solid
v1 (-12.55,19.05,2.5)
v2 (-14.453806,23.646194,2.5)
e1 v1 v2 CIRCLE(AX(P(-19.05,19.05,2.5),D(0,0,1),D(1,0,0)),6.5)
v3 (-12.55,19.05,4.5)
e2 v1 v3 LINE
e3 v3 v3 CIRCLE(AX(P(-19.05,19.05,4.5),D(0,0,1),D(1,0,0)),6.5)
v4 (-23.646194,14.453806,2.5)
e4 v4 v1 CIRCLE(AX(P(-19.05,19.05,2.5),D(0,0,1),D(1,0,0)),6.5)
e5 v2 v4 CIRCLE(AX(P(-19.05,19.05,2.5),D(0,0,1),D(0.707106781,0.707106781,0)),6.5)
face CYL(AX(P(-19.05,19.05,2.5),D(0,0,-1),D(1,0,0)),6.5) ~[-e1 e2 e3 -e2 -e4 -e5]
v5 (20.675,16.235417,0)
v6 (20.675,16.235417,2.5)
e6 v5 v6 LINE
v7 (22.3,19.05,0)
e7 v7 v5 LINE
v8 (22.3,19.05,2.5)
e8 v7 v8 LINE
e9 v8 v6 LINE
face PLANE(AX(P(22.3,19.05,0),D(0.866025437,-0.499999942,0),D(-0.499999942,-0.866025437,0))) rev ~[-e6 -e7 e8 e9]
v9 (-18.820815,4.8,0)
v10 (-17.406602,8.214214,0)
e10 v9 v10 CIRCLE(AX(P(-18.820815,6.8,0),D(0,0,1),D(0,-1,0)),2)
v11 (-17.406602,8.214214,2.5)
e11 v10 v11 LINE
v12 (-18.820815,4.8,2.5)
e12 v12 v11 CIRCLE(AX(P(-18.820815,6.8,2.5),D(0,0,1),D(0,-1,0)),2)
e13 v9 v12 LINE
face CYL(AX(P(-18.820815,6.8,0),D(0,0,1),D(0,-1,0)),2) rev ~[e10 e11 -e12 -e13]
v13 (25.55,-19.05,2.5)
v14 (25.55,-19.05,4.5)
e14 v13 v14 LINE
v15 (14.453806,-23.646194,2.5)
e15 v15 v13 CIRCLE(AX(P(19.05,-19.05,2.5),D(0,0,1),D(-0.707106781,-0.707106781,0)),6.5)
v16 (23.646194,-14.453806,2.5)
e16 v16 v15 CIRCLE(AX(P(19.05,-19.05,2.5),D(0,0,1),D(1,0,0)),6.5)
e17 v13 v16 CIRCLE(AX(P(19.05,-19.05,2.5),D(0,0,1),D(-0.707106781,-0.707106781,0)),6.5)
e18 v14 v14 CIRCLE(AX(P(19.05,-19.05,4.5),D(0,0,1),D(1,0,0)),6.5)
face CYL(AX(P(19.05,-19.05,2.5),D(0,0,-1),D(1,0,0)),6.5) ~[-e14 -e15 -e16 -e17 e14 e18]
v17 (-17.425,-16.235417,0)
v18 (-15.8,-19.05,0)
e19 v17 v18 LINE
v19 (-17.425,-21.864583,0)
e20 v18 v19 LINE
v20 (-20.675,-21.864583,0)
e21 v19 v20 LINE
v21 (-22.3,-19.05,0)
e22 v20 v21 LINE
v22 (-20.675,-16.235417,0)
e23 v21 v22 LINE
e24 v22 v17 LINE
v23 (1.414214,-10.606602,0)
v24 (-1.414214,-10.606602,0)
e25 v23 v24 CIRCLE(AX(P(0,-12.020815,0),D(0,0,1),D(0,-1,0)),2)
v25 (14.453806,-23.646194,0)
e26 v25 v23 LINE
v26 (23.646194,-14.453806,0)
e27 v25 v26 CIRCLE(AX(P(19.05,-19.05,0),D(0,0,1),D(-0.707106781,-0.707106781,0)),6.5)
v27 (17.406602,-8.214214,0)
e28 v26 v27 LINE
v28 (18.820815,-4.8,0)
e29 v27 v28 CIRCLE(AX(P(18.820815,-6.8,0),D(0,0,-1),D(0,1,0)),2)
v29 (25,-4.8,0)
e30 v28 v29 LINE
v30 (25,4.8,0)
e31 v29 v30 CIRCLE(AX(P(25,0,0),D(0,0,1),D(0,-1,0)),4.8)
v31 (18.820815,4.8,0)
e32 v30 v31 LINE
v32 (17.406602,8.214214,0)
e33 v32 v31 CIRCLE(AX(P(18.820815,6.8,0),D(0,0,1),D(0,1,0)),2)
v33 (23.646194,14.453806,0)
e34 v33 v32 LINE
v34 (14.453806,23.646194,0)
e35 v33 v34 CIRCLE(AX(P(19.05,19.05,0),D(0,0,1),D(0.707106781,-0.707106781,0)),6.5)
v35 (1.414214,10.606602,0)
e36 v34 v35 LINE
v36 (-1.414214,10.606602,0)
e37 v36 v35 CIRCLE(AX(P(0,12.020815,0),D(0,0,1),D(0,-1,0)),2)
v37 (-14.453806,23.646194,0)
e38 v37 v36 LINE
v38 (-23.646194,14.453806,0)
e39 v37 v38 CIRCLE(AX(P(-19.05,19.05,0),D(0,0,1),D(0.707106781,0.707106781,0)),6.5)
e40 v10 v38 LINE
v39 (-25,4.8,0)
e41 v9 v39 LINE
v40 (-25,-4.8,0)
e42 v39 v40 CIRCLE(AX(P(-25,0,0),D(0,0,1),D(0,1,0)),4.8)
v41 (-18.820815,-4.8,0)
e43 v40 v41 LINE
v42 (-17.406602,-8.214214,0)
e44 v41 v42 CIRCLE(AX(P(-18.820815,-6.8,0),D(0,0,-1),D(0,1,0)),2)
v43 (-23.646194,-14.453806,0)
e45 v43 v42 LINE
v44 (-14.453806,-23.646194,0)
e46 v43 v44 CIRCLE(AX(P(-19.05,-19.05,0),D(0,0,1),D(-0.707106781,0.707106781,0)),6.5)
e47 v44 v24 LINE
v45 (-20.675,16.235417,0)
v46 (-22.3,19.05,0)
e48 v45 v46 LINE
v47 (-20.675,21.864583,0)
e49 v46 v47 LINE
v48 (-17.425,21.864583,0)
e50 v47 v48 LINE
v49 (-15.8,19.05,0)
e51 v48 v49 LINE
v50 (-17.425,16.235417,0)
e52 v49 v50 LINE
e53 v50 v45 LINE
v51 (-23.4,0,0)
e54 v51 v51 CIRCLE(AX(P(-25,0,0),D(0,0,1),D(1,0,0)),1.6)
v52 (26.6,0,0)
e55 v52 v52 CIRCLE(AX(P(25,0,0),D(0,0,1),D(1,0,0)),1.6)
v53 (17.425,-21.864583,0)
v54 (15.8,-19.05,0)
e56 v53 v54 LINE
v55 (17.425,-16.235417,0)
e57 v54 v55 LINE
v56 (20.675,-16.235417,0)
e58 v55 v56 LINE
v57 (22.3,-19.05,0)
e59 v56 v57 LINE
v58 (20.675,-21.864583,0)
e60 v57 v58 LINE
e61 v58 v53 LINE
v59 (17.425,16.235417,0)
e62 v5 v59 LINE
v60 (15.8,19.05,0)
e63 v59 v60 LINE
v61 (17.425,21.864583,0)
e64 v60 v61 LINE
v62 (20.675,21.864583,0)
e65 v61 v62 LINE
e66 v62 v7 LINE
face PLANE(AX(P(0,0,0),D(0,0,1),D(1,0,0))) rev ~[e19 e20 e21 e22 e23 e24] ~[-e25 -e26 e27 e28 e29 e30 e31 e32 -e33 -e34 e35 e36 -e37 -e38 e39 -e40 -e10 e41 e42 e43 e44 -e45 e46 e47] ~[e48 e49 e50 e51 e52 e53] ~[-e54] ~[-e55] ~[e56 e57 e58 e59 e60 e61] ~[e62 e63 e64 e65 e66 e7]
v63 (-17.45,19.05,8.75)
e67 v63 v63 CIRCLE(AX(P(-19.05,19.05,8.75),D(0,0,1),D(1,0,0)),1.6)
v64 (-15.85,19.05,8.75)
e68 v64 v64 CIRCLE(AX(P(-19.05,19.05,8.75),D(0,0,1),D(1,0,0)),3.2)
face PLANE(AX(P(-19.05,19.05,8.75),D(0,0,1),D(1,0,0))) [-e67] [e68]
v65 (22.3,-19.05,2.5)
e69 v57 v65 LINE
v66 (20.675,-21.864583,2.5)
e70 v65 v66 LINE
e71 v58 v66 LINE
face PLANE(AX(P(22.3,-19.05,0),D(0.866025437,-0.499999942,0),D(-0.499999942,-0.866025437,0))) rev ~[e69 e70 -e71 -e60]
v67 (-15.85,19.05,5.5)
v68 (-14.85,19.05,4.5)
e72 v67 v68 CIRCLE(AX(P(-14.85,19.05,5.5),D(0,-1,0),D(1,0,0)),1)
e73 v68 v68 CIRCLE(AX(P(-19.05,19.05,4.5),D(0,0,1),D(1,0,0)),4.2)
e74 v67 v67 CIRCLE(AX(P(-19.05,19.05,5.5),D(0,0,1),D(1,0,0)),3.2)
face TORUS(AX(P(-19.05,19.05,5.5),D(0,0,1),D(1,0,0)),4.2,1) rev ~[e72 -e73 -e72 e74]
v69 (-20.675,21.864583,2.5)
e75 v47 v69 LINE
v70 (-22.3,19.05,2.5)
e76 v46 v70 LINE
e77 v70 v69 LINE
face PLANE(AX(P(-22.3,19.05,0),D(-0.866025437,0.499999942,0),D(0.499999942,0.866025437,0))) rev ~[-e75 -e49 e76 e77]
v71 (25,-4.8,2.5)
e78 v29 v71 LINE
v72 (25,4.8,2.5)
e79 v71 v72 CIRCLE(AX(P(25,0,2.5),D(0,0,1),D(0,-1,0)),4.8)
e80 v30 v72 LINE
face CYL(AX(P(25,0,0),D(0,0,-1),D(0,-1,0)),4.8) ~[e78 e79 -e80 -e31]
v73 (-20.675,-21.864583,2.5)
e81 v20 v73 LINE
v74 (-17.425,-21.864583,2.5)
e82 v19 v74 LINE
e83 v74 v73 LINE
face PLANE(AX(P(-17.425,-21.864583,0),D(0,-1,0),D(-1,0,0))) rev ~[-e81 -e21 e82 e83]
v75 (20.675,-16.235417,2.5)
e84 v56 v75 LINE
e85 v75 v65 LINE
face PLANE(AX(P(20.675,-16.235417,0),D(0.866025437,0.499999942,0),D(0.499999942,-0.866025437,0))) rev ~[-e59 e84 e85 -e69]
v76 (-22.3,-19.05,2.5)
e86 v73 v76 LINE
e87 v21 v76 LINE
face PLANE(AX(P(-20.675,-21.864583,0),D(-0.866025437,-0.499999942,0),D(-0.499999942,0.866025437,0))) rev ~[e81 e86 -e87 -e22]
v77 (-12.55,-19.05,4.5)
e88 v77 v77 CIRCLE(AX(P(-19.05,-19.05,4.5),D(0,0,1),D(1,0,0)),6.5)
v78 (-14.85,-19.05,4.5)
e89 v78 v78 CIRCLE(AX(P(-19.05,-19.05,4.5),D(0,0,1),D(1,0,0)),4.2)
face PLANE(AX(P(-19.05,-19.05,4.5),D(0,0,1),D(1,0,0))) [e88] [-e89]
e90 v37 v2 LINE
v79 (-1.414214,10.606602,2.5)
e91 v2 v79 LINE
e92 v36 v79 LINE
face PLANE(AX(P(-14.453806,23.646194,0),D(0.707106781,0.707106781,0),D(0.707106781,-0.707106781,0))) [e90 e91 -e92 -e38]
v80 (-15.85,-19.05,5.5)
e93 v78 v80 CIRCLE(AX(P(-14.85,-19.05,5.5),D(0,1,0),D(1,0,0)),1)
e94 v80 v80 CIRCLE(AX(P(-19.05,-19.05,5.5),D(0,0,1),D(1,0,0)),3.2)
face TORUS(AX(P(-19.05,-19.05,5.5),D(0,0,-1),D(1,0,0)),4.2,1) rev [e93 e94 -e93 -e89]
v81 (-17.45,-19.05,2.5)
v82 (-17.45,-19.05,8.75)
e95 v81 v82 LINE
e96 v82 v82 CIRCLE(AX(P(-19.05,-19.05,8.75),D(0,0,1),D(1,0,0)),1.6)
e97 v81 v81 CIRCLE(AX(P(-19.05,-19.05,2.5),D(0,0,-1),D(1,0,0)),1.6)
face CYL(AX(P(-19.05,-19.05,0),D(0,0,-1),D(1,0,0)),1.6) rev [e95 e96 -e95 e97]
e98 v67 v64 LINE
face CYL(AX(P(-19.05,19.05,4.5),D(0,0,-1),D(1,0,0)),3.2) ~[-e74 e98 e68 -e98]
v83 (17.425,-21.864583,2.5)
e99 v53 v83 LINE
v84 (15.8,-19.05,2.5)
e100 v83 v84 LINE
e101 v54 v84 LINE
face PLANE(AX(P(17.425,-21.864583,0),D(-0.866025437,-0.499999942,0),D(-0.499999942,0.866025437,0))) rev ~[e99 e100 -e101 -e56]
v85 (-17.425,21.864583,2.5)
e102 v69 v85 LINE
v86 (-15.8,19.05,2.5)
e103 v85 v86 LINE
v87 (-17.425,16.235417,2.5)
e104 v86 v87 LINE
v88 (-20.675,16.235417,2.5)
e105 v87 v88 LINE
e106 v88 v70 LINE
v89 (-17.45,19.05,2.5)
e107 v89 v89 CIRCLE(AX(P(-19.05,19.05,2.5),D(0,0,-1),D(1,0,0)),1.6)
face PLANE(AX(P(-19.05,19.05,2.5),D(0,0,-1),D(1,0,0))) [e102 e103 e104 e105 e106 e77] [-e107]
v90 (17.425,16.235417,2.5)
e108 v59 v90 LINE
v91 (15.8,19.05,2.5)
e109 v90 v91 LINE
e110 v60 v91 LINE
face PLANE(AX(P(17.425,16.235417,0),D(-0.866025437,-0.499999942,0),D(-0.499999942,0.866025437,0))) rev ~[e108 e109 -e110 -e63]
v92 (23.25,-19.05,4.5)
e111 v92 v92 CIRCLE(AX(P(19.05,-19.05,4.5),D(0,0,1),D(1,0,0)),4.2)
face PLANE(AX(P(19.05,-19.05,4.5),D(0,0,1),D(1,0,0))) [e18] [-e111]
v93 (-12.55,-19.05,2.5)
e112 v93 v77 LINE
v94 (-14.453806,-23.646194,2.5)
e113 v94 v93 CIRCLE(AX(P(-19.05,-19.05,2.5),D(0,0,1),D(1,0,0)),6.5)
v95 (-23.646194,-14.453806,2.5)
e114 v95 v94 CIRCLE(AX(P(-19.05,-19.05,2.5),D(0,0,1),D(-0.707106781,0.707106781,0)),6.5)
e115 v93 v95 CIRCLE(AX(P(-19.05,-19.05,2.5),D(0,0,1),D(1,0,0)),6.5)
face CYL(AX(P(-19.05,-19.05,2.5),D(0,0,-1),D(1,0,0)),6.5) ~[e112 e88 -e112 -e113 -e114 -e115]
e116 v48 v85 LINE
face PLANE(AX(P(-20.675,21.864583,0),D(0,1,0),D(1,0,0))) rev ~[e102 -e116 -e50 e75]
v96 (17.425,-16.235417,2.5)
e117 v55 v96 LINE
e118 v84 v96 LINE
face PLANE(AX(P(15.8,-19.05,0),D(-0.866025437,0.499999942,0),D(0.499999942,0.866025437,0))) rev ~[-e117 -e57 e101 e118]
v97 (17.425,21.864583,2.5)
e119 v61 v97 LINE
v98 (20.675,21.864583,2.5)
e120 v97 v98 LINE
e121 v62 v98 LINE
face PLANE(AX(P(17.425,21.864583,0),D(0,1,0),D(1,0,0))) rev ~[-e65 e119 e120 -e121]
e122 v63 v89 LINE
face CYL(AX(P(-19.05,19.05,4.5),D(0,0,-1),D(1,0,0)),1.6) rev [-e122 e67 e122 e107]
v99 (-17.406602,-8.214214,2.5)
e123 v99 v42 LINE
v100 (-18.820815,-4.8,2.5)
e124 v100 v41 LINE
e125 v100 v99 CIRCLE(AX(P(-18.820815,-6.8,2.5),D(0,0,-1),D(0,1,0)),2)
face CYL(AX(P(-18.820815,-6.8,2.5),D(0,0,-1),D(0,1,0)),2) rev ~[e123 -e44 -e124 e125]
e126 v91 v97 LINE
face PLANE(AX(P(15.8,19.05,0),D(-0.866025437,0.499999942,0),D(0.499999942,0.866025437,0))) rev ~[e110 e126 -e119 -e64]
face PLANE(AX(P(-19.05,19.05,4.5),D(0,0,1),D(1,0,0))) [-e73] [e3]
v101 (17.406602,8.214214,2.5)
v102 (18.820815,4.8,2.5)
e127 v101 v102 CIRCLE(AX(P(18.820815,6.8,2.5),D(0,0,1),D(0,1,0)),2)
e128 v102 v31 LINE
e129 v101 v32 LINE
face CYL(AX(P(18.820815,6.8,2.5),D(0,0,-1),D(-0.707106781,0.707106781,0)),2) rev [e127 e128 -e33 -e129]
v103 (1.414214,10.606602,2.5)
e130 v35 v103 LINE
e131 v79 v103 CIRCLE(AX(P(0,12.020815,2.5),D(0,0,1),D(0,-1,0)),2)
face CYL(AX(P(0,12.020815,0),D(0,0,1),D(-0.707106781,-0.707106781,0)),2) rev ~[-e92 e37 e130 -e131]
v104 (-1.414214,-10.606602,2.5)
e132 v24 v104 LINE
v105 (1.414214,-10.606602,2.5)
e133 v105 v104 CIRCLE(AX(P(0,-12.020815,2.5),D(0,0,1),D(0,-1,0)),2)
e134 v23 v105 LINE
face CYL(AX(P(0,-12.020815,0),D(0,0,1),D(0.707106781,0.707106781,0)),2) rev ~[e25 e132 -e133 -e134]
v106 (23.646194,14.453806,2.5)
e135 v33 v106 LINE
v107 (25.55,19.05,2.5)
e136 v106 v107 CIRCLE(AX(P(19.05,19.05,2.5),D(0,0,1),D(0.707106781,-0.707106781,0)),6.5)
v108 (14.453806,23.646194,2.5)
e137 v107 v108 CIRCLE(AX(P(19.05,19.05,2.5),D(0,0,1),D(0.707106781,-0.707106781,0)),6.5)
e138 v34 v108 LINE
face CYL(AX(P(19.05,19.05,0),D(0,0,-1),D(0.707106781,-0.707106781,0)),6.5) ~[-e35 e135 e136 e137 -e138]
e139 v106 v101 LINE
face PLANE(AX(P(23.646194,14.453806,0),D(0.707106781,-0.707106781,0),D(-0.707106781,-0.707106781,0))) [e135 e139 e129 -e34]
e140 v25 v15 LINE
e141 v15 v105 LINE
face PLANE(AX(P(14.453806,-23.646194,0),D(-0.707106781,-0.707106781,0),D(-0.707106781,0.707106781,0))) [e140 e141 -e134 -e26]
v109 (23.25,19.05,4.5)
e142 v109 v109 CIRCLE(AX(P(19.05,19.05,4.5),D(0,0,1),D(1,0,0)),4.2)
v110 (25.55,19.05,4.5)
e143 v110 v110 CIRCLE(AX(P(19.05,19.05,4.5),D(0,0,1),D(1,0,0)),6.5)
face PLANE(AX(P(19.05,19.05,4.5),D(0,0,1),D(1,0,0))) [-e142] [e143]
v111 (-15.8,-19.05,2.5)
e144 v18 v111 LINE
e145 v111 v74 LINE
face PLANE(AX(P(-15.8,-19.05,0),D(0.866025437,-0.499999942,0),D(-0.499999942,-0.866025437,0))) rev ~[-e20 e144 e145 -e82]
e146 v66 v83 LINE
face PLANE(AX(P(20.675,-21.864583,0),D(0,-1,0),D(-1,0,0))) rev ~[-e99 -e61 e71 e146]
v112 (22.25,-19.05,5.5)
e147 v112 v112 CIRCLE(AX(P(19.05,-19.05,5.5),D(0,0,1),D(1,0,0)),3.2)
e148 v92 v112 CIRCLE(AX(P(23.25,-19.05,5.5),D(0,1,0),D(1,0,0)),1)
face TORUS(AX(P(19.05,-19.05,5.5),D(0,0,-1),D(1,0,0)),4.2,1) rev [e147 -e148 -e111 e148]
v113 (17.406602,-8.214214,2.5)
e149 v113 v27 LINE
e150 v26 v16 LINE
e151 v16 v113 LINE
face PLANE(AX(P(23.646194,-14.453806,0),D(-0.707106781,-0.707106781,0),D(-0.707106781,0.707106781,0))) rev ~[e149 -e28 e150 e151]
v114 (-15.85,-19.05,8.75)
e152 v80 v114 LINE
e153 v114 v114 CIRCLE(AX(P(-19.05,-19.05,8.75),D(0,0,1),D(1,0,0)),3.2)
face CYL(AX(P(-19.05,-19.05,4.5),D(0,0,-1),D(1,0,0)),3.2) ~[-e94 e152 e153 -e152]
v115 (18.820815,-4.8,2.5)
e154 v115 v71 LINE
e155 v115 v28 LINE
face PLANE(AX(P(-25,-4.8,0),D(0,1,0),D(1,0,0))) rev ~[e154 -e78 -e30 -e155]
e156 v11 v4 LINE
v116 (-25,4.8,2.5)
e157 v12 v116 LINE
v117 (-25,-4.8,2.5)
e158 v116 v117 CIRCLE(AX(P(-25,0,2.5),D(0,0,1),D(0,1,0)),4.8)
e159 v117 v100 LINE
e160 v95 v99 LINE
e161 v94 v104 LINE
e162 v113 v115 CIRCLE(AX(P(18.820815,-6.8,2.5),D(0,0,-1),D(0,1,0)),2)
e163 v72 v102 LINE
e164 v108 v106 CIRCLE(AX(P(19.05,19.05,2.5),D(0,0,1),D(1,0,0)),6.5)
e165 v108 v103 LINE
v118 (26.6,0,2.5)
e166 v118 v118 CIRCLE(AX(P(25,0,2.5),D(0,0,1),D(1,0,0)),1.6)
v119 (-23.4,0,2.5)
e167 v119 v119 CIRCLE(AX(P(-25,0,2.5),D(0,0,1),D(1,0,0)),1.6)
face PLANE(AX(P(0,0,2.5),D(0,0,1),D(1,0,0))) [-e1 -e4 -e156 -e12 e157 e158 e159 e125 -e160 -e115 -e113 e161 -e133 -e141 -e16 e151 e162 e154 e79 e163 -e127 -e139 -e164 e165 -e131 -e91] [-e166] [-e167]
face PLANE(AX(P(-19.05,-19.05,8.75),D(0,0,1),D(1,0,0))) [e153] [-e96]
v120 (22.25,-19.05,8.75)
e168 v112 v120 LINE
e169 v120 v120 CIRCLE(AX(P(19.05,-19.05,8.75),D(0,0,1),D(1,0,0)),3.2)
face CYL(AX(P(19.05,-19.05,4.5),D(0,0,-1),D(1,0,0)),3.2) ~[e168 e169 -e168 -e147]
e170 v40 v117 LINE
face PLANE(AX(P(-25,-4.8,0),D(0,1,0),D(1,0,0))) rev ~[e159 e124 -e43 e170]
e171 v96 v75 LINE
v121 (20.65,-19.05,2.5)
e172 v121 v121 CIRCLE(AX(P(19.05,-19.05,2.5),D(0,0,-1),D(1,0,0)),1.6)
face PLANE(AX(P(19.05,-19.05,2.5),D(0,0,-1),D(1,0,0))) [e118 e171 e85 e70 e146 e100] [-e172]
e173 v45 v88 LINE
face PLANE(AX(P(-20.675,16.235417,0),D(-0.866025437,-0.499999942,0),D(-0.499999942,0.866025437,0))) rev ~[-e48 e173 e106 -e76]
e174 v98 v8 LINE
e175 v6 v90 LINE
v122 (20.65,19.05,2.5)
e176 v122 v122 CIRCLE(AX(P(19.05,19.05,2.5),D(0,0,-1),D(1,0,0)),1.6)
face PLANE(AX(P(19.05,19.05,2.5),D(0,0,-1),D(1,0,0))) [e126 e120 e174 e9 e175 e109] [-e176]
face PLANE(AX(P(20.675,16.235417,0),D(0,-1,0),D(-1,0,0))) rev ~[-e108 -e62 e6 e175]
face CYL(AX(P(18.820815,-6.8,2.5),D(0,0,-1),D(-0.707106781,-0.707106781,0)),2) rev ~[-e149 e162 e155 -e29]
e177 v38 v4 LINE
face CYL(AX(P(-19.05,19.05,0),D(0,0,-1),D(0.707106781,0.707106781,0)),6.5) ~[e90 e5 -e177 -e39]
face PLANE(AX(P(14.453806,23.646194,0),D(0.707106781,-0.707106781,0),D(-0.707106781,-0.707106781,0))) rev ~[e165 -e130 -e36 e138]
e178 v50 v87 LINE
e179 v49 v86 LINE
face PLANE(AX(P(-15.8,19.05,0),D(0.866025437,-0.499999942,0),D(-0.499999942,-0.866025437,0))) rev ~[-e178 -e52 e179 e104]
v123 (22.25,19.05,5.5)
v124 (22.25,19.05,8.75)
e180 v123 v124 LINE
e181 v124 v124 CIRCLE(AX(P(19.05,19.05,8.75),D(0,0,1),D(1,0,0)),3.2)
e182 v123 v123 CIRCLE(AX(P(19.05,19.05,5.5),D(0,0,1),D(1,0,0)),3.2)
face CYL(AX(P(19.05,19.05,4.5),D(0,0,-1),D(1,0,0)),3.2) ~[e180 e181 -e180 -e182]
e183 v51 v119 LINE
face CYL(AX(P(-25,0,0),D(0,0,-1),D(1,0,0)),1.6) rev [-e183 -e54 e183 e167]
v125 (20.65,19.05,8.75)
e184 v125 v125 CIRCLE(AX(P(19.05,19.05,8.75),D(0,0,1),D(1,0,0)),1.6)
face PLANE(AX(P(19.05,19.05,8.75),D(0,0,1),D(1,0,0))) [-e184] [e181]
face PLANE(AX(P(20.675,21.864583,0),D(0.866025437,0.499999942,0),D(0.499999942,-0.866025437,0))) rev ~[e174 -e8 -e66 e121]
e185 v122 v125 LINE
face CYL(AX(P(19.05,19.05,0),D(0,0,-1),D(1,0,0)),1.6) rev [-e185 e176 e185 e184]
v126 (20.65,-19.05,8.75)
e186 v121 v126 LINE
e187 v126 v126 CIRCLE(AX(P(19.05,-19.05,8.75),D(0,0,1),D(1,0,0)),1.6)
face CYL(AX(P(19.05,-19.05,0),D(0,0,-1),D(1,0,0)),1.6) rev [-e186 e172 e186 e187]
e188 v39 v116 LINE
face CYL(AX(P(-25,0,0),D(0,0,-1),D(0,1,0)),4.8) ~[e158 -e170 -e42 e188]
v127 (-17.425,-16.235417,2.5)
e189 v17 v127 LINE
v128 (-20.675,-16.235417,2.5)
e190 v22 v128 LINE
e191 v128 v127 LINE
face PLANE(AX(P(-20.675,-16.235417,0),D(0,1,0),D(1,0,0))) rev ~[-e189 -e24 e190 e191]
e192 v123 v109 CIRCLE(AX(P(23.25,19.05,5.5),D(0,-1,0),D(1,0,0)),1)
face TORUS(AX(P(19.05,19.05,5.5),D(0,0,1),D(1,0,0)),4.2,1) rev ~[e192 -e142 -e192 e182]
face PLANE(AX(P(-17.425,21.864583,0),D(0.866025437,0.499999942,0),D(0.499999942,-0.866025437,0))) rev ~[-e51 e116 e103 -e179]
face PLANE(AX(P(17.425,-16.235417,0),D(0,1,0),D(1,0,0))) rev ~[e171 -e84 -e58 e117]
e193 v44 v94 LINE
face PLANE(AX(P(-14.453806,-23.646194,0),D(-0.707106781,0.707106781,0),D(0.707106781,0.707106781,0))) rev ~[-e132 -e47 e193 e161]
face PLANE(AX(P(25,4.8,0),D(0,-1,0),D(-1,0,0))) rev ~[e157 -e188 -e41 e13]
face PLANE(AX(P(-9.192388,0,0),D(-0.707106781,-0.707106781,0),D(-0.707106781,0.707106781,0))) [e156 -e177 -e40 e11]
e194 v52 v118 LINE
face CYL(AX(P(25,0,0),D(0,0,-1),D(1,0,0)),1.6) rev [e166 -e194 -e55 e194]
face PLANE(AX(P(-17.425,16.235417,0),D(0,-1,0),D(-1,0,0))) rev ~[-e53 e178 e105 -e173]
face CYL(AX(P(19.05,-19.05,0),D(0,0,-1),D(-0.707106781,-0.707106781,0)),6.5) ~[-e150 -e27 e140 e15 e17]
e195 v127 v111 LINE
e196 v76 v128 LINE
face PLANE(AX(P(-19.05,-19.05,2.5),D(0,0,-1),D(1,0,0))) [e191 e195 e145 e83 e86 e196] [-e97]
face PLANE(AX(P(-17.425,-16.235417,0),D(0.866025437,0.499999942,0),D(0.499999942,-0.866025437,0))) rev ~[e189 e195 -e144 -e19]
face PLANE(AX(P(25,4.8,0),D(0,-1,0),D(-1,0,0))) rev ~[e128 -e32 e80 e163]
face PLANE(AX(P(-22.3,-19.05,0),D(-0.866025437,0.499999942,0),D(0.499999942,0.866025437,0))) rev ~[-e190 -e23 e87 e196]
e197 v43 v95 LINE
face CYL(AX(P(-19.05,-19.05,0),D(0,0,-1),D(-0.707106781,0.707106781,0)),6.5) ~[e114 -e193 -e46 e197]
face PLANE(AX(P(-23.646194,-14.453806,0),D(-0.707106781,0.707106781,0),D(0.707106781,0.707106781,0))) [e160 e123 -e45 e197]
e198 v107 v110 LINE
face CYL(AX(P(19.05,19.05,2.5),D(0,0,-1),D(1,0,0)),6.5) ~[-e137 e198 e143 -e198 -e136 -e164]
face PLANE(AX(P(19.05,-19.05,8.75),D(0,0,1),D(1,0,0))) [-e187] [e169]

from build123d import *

# Parameters (mm, degrees)
SKETCH009_R     = 1.6
PAD003_DEPTH    = 2.5
SKETCH010_R     = 1.6
PAD004_DEPTH    = 2.5
FILLET002_R     = 2
SKETCH011_R     = 6.5
SKETCH011_R_2   = 1.6
PAD005_DEPTH    = 2
SKETCH012_R     = 3.2
SKETCH012_R_2   = 1.6
PAD006_DEPTH    = 4.25
FILLET003_R     = 1
POCKET006_DEPTH = 2.5


with BuildPart() as part:
    # Sketch009 → Pad003 (new body)
    with BuildSketch(Plane.XY):
        with BuildLine():
            ThreePointArc((23.646194, 14.453806), (23.646194, 23.646194), (14.453806, 23.646194))
            Line((14.453806, 23.646194), (0, 9.192388))
            Line((-14.453806, 23.646194), (0, 9.192388))
            ThreePointArc((-14.453806, 23.646194), (-23.646194, 23.646194), (-23.646194, 14.453806))
            Line((-9.192388, 0), (-23.646194, 14.453806))
            Line((-23.646194, -14.453806), (-9.192388, 0))
            ThreePointArc((-23.646194, -14.453806), (-23.646194, -23.646194), (-14.453806, -23.646194))
            Line((-14.453806, -23.646194), (0, -9.192388))
            Line((14.453806, -23.646194), (0, -9.192388))
            ThreePointArc((14.453806, -23.646194), (23.646194, -23.646194), (23.646194, -14.453806))
            Line((23.646194, -14.453806), (9.192388, 0))
            Line((23.646194, 14.453806), (9.192388, 0))
        make_face()
        with Locations((19.05, 19.05)):
            Circle(SKETCH009_R, mode=Mode.SUBTRACT)
        with Locations((-19.05, 19.05)):
            Circle(SKETCH009_R, mode=Mode.SUBTRACT)
        with Locations((-19.05, -19.05)):
            Circle(SKETCH009_R, mode=Mode.SUBTRACT)
        with Locations((19.05, -19.05)):
            Circle(SKETCH009_R, mode=Mode.SUBTRACT)
    extrude(amount=PAD003_DEPTH)

    # Sketch010 → Pad004 (join)
    with BuildSketch(Plane.XY):
        with BuildLine():
            ThreePointArc((-25, 4.8), (-29.8, 0), (-25, -4.8))
            Line((-25, -4.8), (25, -4.8))
            ThreePointArc((25, -4.8), (29.8, 0), (25, 4.8))
            Line((25, 4.8), (-25, 4.8))
        make_face()
        with Locations((-25, 0)):
            Circle(SKETCH010_R, mode=Mode.SUBTRACT)
        with Locations((25, 0)):
            Circle(SKETCH010_R, mode=Mode.SUBTRACT)
    extrude(amount=PAD004_DEPTH)

    # Fillet002
    fillet002_edges = [part.edges().sort_by_distance(p)[0] for p in [
        (13.992388, 4.8, 1.25),
        (13.992388, -4.8, 1.25),
        (0, -9.192388, 1.25),
        (-13.992388, -4.8, 1.25),
        (-13.992388, 4.8, 1.25),
        (0, 9.192388, 1.25),
    ]]
    fillet(fillet002_edges, radius=FILLET002_R)

    # Sketch011 (on Face16 of Fillet002) → Pad005 (join)
    with BuildSketch(Plane.XY.offset(2.5)):
        with Locations((-19.05, 19.05)):
            Circle(SKETCH011_R)
        with Locations((-19.05, 19.05)):
            Circle(SKETCH011_R_2, mode=Mode.SUBTRACT)
        with Locations((19.05, 19.05)):
            Circle(SKETCH011_R)
        with Locations((19.05, 19.05)):
            Circle(SKETCH011_R_2, mode=Mode.SUBTRACT)
        with Locations((19.05, -19.05)):
            Circle(SKETCH011_R)
        with Locations((19.05, -19.05)):
            Circle(SKETCH011_R_2, mode=Mode.SUBTRACT)
        with Locations((-19.05, -19.05)):
            Circle(SKETCH011_R)
        with Locations((-19.05, -19.05)):
            Circle(SKETCH011_R_2, mode=Mode.SUBTRACT)
    extrude(amount=PAD005_DEPTH)

    # Sketch012 (on Face52 of Pad005) → Pad006 (join)
    with BuildSketch(Plane.XY.offset(4.5)):
        with Locations((-19.05, 19.05)):
            Circle(SKETCH012_R)
        with Locations((-19.05, 19.05)):
            Circle(SKETCH012_R_2, mode=Mode.SUBTRACT)
        with Locations((19.05, 19.05)):
            Circle(SKETCH012_R)
        with Locations((19.05, 19.05)):
            Circle(SKETCH012_R_2, mode=Mode.SUBTRACT)
        with Locations((19.05, -19.05)):
            Circle(SKETCH012_R)
        with Locations((19.05, -19.05)):
            Circle(SKETCH012_R_2, mode=Mode.SUBTRACT)
        with Locations((-19.05, -19.05)):
            Circle(SKETCH012_R)
        with Locations((-19.05, -19.05)):
            Circle(SKETCH012_R_2, mode=Mode.SUBTRACT)
    extrude(amount=PAD006_DEPTH)

    # Fillet003
    fillet003_edges = [part.edges().sort_by_distance(p)[0] for p in [
        (15.85, -19.05, 4.5),
        (15.85, 19.05, 4.5),
        (-22.25, 19.05, 4.5),
        (-22.25, -19.05, 4.5),
    ]]
    fillet(fillet003_edges, radius=FILLET003_R)

    # Sketch013 (on Face22 of Fillet003) → Pocket006 (cut)
    with BuildSketch(Plane(origin=(0, 0, 0), x_dir=(1, 0, 0), z_dir=(0, 0, -1))):
        Polygon((-15.8, 19.05), (-17.425, 21.864583), (-20.675, 21.864583), (-22.3, 19.05), (-20.675, 16.235417), (-17.425, 16.235417), align=None)
        Polygon((22.3, 19.05), (20.675, 21.864583), (17.425, 21.864583), (15.8, 19.05), (17.425, 16.235417), (20.675, 16.235417), align=None)
        Polygon((22.3, -19.05), (20.675, -16.235417), (17.425, -16.235417), (15.8, -19.05), (17.425, -21.864583), (20.675, -21.864583), align=None)
        Polygon((-15.8, -19.05), (-17.425, -16.235417), (-20.675, -16.235417), (-22.3, -19.05), (-20.675, -21.864583), (-17.425, -21.864583), align=None)
    extrude(amount=-POCKET006_DEPTH, mode=Mode.SUBTRACT)


solid = part.part
